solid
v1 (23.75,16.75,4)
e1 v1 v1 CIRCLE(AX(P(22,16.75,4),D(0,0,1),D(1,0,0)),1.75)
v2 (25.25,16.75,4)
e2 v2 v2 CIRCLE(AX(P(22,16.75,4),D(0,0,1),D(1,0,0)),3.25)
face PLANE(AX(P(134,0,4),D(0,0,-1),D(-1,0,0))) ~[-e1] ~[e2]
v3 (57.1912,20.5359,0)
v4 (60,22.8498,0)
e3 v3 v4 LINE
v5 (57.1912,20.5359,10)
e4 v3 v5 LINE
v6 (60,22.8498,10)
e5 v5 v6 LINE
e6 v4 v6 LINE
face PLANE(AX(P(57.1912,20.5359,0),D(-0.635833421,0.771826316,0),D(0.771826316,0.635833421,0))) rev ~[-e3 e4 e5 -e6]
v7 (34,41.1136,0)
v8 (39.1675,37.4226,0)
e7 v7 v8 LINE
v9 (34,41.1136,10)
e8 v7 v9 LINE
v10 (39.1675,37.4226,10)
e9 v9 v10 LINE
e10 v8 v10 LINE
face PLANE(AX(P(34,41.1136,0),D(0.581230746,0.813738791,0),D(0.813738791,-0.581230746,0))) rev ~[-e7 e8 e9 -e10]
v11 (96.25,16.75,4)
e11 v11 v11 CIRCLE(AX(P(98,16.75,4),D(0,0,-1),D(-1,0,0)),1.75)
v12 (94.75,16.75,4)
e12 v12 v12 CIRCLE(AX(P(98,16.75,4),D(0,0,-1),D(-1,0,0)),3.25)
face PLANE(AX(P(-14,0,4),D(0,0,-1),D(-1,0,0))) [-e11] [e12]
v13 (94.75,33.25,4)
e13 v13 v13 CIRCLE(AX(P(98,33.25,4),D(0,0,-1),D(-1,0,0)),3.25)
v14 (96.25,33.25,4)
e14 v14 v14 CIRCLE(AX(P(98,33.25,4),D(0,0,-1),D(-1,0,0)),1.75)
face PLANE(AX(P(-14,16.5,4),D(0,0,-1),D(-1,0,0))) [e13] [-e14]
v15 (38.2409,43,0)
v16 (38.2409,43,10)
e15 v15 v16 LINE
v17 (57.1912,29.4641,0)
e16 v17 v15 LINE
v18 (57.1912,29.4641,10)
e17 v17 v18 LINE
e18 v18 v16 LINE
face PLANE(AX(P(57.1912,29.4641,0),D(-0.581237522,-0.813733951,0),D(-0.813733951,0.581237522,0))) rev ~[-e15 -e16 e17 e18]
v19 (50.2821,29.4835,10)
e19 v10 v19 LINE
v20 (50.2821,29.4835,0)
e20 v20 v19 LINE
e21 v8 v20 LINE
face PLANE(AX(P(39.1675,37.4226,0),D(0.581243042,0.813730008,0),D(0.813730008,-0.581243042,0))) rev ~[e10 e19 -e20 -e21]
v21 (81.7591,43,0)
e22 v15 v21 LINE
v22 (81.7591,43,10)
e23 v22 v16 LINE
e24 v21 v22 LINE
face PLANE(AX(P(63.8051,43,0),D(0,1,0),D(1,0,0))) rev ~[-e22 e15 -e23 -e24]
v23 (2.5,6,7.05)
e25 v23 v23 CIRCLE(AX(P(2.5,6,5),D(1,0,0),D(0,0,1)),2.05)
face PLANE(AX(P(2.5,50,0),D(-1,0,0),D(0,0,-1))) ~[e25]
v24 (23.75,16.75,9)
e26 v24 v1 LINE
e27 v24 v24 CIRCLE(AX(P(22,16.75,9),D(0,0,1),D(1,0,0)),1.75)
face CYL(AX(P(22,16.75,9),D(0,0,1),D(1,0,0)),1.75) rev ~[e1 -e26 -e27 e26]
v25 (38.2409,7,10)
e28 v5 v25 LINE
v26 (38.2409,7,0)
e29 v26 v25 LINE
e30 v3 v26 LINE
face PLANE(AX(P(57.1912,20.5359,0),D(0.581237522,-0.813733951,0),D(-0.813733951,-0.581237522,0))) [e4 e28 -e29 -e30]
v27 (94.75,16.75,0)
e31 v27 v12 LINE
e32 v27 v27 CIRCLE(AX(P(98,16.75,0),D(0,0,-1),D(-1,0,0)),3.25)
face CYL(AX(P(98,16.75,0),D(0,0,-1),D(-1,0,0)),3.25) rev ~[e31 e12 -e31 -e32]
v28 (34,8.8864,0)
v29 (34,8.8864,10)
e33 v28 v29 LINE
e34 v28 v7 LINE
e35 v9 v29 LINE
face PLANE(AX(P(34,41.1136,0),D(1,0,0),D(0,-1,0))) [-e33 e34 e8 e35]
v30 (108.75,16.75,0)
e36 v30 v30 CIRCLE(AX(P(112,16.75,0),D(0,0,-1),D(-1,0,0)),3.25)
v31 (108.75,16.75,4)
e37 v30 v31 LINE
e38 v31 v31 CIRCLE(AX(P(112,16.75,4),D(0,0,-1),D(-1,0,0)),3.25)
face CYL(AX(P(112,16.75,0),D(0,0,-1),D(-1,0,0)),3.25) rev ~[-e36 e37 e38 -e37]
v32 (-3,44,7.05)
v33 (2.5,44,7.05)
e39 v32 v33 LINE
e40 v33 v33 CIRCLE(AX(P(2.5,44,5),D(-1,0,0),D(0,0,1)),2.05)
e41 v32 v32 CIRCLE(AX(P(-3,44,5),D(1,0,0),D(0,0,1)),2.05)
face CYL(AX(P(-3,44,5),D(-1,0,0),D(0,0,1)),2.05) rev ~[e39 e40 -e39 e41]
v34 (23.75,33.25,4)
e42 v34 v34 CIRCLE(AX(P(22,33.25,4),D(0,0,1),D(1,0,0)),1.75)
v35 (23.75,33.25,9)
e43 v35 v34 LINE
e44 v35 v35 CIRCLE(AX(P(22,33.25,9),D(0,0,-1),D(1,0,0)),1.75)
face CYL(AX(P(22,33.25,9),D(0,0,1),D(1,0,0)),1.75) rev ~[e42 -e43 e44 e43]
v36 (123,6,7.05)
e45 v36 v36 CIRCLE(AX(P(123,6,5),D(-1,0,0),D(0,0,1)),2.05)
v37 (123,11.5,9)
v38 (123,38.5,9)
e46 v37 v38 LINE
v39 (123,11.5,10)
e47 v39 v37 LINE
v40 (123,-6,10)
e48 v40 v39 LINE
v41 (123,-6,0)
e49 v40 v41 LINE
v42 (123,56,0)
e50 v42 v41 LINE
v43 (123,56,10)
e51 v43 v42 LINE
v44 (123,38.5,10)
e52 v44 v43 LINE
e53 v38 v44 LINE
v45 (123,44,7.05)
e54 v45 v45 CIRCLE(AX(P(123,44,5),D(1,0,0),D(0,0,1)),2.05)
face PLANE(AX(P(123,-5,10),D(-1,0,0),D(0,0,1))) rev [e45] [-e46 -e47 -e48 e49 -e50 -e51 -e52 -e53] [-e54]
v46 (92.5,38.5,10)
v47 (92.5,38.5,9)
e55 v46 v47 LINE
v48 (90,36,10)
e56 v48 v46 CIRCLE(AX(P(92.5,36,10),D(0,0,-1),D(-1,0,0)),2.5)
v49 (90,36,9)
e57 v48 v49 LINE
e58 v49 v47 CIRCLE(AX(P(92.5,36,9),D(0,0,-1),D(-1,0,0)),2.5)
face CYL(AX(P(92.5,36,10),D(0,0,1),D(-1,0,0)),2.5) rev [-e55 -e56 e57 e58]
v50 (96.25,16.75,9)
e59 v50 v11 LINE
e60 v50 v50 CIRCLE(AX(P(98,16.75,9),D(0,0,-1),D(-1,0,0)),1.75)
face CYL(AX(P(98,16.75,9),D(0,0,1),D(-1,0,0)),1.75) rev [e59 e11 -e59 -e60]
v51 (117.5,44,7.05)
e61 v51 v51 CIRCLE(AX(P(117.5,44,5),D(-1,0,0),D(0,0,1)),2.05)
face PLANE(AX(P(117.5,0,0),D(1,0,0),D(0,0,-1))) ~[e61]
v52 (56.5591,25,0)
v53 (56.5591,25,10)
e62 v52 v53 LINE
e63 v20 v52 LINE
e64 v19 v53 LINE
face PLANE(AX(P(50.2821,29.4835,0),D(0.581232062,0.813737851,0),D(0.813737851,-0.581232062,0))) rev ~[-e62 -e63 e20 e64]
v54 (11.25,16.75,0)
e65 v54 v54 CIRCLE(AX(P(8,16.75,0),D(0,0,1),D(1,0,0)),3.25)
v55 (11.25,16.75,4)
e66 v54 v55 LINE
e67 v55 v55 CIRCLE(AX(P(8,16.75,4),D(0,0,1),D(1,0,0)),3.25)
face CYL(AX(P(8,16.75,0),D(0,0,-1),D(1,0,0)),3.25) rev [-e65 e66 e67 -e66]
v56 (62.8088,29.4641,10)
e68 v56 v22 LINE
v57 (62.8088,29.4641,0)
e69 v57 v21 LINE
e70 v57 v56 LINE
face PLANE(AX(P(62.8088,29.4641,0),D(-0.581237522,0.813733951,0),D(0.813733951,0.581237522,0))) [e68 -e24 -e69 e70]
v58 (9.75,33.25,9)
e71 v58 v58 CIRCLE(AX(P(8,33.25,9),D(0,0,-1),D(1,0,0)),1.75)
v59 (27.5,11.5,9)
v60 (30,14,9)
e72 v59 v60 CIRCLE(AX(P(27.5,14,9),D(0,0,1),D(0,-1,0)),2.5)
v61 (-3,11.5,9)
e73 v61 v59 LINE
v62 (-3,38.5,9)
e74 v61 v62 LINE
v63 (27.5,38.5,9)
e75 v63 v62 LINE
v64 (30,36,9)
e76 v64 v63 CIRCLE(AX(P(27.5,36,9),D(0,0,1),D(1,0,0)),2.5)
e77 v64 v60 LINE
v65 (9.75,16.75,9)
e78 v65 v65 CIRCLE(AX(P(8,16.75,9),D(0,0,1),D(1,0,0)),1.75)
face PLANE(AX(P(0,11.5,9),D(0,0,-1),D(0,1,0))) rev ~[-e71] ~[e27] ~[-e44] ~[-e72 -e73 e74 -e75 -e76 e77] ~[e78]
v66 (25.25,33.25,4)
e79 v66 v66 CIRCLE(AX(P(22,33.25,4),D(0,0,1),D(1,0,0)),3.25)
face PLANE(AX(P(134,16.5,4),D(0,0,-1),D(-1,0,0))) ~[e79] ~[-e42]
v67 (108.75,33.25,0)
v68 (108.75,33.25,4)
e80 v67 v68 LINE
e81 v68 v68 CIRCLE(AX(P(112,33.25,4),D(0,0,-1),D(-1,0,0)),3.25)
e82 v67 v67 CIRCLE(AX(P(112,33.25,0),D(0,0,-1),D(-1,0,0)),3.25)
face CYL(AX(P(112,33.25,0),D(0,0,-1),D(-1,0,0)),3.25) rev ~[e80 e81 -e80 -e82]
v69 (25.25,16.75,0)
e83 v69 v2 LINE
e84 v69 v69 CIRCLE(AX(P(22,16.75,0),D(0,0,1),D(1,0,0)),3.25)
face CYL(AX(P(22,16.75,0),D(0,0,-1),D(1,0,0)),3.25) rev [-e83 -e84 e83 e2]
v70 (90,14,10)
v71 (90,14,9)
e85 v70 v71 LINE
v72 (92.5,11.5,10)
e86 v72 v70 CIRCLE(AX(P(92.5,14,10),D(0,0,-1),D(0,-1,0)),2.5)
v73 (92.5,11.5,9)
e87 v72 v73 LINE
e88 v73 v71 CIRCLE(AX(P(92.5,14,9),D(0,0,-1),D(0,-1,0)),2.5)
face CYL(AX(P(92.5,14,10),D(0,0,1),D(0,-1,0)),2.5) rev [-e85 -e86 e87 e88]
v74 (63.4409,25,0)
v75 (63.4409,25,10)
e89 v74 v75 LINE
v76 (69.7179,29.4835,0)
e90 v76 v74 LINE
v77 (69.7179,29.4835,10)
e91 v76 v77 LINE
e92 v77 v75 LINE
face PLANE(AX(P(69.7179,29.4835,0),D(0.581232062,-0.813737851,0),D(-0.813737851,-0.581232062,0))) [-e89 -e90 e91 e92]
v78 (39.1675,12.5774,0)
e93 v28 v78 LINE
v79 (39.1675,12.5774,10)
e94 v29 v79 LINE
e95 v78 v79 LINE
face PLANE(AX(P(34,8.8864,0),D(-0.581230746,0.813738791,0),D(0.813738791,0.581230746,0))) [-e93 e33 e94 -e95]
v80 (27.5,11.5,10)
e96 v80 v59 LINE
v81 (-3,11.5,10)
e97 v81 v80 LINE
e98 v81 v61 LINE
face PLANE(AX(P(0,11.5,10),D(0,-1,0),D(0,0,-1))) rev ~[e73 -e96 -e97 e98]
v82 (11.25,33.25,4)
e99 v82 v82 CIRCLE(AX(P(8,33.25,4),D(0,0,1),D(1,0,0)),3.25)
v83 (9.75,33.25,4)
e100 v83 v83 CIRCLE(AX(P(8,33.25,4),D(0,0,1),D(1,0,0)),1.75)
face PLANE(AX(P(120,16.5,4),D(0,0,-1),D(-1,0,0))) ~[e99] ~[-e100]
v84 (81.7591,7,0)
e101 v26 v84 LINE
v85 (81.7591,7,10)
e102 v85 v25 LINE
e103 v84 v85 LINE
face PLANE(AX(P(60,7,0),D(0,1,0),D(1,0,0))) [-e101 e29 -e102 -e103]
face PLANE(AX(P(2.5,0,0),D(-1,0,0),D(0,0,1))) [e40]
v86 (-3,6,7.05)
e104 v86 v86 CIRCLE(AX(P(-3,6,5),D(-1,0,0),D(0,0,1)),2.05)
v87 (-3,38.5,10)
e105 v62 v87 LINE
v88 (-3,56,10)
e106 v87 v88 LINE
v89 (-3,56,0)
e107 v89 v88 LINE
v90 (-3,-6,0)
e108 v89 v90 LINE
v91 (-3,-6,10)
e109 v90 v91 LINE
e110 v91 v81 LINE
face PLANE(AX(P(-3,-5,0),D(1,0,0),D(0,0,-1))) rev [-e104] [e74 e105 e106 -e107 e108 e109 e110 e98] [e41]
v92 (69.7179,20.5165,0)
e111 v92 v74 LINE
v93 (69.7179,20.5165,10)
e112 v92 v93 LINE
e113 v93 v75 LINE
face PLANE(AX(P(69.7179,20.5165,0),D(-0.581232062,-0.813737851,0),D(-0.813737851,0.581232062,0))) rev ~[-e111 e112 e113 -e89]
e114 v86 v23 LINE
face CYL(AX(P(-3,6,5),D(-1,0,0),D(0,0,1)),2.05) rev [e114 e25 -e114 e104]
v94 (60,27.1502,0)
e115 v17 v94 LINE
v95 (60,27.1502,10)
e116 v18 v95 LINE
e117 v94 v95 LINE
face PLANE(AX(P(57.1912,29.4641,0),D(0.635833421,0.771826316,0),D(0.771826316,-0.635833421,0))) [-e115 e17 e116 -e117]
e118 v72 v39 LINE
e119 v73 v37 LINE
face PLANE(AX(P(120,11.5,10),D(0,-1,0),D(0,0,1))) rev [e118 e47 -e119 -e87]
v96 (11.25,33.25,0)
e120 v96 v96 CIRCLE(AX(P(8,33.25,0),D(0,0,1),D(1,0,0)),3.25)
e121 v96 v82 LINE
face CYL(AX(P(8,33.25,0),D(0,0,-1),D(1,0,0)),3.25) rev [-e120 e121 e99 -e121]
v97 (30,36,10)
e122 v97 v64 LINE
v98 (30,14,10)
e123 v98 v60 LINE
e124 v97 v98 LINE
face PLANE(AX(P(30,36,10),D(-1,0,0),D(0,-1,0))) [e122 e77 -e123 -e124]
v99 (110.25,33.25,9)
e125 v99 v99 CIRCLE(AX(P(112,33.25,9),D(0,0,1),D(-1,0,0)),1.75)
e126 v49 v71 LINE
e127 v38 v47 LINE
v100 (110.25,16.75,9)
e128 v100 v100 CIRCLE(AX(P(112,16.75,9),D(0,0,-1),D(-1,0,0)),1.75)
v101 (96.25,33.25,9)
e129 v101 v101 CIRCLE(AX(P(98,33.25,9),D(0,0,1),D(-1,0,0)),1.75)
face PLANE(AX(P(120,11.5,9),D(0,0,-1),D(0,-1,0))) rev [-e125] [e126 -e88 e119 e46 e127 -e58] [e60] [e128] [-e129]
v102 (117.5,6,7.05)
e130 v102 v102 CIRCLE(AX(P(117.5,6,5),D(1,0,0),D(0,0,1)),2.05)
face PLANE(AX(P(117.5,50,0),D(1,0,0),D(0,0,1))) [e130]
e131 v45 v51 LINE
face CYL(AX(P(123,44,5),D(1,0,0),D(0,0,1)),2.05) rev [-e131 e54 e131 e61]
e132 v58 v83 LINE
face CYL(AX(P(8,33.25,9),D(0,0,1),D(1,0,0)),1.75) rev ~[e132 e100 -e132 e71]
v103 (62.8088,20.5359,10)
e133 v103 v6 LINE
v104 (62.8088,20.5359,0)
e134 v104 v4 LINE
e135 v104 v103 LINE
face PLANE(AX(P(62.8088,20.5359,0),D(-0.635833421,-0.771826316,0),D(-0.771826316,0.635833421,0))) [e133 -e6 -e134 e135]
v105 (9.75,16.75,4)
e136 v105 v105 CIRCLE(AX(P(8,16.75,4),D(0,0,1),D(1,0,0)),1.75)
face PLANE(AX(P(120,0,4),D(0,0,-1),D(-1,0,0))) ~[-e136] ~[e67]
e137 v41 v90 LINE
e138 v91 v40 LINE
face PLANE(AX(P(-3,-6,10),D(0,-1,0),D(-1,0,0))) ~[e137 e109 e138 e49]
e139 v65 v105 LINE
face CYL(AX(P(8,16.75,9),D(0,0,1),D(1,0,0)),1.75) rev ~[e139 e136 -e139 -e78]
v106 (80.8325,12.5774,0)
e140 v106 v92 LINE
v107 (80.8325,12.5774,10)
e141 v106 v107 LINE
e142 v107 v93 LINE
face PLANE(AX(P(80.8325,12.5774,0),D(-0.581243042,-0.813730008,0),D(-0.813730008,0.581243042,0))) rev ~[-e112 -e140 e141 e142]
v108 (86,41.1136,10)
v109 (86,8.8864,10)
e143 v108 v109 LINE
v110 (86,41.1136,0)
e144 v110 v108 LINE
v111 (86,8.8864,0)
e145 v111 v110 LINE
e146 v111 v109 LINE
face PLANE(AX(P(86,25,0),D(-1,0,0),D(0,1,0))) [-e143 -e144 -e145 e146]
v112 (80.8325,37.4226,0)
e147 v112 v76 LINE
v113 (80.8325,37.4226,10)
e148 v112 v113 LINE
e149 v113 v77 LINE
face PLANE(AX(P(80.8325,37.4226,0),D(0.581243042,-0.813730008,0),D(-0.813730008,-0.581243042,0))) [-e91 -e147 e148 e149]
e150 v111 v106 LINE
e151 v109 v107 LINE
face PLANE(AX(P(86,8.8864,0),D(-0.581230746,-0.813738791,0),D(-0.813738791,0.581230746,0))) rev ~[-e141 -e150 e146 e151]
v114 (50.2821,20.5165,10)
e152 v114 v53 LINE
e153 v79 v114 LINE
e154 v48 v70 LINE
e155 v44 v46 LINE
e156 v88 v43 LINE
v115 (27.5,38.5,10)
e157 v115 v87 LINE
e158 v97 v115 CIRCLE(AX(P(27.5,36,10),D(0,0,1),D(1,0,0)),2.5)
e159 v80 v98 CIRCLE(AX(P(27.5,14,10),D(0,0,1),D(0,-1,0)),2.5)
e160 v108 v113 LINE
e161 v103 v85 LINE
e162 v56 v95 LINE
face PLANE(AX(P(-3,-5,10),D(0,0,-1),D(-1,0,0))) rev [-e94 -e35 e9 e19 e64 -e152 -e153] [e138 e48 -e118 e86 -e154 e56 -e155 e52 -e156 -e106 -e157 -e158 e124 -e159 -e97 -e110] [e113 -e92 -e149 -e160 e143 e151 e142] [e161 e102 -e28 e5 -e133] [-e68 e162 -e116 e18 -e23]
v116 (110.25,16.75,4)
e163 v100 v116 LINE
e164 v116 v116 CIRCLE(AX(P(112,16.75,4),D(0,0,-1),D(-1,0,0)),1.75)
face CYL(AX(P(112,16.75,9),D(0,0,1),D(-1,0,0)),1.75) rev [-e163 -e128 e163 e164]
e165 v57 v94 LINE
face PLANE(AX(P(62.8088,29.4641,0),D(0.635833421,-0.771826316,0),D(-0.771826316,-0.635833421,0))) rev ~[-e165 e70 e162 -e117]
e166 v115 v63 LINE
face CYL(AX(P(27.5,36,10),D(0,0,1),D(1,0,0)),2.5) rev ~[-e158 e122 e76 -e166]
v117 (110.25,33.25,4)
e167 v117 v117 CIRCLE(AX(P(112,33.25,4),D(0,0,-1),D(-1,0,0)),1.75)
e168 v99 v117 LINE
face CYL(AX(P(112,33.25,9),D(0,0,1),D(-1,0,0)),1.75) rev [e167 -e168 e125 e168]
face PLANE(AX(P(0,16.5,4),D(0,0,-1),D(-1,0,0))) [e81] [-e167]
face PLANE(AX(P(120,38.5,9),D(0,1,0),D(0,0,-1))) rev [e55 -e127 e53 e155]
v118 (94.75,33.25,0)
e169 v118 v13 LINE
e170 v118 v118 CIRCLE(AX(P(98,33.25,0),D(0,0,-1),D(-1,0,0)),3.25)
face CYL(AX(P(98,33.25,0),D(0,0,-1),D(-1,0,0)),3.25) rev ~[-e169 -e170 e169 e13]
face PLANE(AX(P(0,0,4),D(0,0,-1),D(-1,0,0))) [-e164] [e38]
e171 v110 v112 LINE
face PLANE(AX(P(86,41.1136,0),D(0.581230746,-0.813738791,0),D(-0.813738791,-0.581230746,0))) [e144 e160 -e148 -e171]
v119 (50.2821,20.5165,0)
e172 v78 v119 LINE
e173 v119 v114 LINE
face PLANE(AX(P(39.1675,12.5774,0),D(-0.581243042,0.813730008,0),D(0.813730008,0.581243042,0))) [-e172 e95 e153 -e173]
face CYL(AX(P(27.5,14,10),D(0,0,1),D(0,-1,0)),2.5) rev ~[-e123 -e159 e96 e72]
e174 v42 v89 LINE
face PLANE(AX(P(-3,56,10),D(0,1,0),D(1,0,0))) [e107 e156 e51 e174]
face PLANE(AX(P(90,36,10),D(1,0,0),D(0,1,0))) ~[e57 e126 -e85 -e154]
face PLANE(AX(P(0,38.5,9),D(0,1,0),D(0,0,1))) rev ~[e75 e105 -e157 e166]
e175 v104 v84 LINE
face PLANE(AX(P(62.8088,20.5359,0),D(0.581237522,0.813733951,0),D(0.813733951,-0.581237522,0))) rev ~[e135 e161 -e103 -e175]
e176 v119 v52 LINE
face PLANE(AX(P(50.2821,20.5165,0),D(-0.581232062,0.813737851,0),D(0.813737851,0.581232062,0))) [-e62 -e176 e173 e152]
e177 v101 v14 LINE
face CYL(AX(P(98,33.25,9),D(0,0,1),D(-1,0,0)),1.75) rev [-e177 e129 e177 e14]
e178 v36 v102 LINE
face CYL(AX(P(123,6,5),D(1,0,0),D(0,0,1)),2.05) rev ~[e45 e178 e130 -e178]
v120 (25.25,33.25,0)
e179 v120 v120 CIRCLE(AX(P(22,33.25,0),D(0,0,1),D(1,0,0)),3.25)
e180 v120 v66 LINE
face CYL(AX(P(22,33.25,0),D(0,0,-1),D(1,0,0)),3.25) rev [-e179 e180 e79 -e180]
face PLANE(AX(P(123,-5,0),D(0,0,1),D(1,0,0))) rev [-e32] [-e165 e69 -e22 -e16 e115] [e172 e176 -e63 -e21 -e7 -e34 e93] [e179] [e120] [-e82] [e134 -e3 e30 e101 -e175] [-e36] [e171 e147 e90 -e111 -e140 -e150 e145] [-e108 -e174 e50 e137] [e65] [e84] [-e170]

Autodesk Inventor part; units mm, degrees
ref_plane "YZ Plane" through (0, 0, 0) normal (1, 0, 0) x (0, 1, 0)
ref_plane "XZ Plane" through (0, 0, 0) normal (0, 1, 0) x (-1, 0, 0)
ref_plane "XY Plane" through (0, 0, 0) normal (0, 0, 1) x (1, 0, 0)
sketch "Sketch1" plane through (0, 0, 0) normal (0, 0, 1) x (1, 0, 0)
  line L0 (0, 0) -> (120, 0)
  line L1 (120, 0) -> (120, 50)
  line L2 (120, 50) -> (0, 50)
  line L3 (0, 50) -> (0, 0)
  dimension "d0" = 120
  dimension "d1" = 50
extrude "Extrusion1" add sketch "Sketch1" along normal blind 10
sketch "Sketch2" plane through (0, 0, 10) normal (0, 0, 1) x (1, 0, 0)
  line L0 (0, 50) -> (0, 0) projected
  line L1 (0, 11.5) -> (0, 38.5)
  line L2 (0, 38.5) -> (27.5, 38.5)
  line L3 (30, 36) -> (30, 14)
  line L4 (27.5, 11.5) -> (0, 11.5)
  line L5 (0, 11.5) -> (0, 38.5)
  arc A0 (30, 36) -> (27.5, 38.5) centre (27.5, 36) ccw
  arc A1 (27.5, 11.5) -> (30, 14) centre (27.5, 14) ccw
  point P0 (0, 25)
  point P1 (30, 11.5)
  point P2 (30, 38.5)
  dimension "d4" = 27
  dimension "d5" = 30
  dimension "d8" = 2.5
  dimension "d9" = 2.5
extrude "Extrusion2" cut sketch "Sketch2" against normal blind 1
sketch "Sketch3" plane through (0, 0, 9) normal (0, 0, 1) x (1, 0, 0)
  arc A0 (30, 36) -> (27.5, 38.5) centre (27.5, 36) ccw projected
  line L0 (0, 38.5) -> (27.5, 38.5) projected
  line L1 (0, 38.5) -> (27.5, 38.5) projected
  line L2 (0, 11.5) -> (0, 38.5) projected
  line L3 (27.5, 11.5) -> (0, 11.5) projected
  arc A1 (27.5, 11.5) -> (30, 14) centre (27.5, 14) ccw projected
  line L4 (30, 36) -> (30, 14) projected
  arc A2 (30, 36) -> (27.5, 38.5) centre (27.5, 36) ccw projected
  line L5 (30, 36) -> (30, 14) projected
  line L6 (30, 38.5) -> (22, 38.5)
  line L7 (22, 38.5) -> (22, 33.25)
  line L8 (22, 33.25) -> (30, 33.25)
  line L9 (30, 33.25) -> (30, 38.5)
  circle A3 centre (22, 33.25) radius 1.75
  line L10 (30, 38.5) -> (8, 38.5)
  line L11 (8, 38.5) -> (8, 33.25)
  line L12 (8, 33.25) -> (30, 33.25)
  line L13 (30, 33.25) -> (30, 38.5)
  circle A4 centre (8, 33.25) radius 1.75
  line L14 (30, 25) -> (16.651, 25)
  circle A5 centre (22, 16.75) radius 1.75
  circle A6 centre (8, 16.75) radius 1.75
  point P0 (0, 0)
  dimension "d10" = 8
  dimension "d11" = 5.25
  dimension "d12" = 3.5
  dimension "d13" = 22
  dimension "d14" = 3.5
extrude "Extrusion3" cut sketch "Sketch3" against normal up to surface (9 mm away) contours A3 L12 L8 | L8 L7 A3 | L7 L12 A3 | A4 L12 L11 | L11 L12 A4 | A5 | A6
ref_plane "Work Plane1" through (60, 0, 0) normal (-1, 0, 0) x (0, 0, 1)
mirror "Mirror1" about plane through (60, 0, 0) normal (-1, 0, 0) of "Extrusion2", "Extrusion3"
ref_plane "Work Plane2" through (0, 25, 0) normal (0, -1, 0) x (1, 0, 0)
sketch "Sketch6" plane through (0, 0, 0) normal (-1, 0, 0) x (0, 0, 1)
  line L0 (9, 38.5) -> (10, 38.5) projected
  line L1 (9, 11.5) -> (9, 38.5) projected
  line L2 (10, 11.5) -> (9, 11.5) projected
  line L3 (0, 50) -> (0, 0) projected
  line L4 (0, 0) -> (10, 0) projected
  line L5 (10, 11.5) -> (10, 0) projected
  line L6 (0, 50) -> (10, 50) projected
  line L7 (10, 50) -> (10, 38.5) projected
extrude "Extrusion6" add sketch "Sketch6" along normal blind 3
mirror "Mirror4" about plane through (60, 0, 0) normal (-1, 0, 0) of "Extrusion6"
sketch "Sketch7" plane through (0, 0, 0) normal (0, 0, -1) x (-1, 0, 0)
  circle A0 centre (-112, 16.75) radius 1.75 projected
  circle A1 centre (-112, 16.75) radius 3.25
  point P0 (0, 0)
  dimension "d27" = 6.5
extrude "Extrusion7" cut sketch "Sketch7" against normal blind 4
pattern_linear "Rectangular Pattern1" count 2 spacing -14 along (1, 0, 0) count 2 spacing 16.5 along (0, 1, 0) of "Extrusion7"
mirror "Mirror5" about plane through (60, 0, 0) normal (-1, 0, 0) of "Extrusion7", "Rectangular Pattern1"
sketch "Sketch9" plane through (-3, 0, 0) normal (-1, 0, 0) x (0, 0, 1)
  line L0 (10, 50) -> (5, 50)
  line L1 (5, 50) -> (5, 44)
  line L2 (5, 44) -> (10, 44)
  line L3 (10, 44) -> (10, 50)
  circle A0 centre (5, 44) radius 2.05
  point P0 (0, 0)
  dimension "d36" = 5
  dimension "d37" = 6
  dimension "d38" = 4.1
extrude "Extrusion8" cut sketch "Sketch9" against normal blind 5.5 contours A0 L2 L1 | L1 L2 A0
mirror "Mirror6" about plane through (0, 25, 0) normal (0, -1, 0) of "Extrusion8"
sketch "Sketch12" plane through (0, 0, 0) normal (0, 0, -1) x (-1, 0, 0)
  line L0 (-123, 0) -> (3, 0) projected
  line L1 (-60, 0) -> (-60, 50)
  line L2 (3, 50) -> (-123, 50) projected
  line L3 (-88, 5) -> (-88, 45)
  line L4 (-88, 45) -> (-32, 45)
  line L5 (-32, 45) -> (-32, 5)
  line L6 (-32, 5) -> (-88, 5)
  line L7 (-88, 5) -> (-32, 45) construction
  line L8 (-88, 45) -> (-32, 5) construction
  line L9 (-60, 45) -> (-60, 43)
  line L10 (-63.9713, 27.8366) -> (-62.8088, 29.4641)
  line L11 (-62.8088, 29.4641) -> (-85.7421, 45.845)
  line L12 (-63.8051, 43) -> (-81.7591, 43)
  line L13 (-60, 43) -> (-60, 27.1502)
  line L14 (-62.8088, 29.4641) -> (-60, 27.1502)
  line L15 (-88, 25) -> (-86, 25)
  line L16 (-86, 25) -> (-86, 27)
  line L17 (-79.67, 39.05) -> (-80.8325, 37.4226)
  line L18 (-80.8325, 37.4226) -> (-69.7179, 29.4835)
  line L19 (-86, 41.1136) -> (-86, 27)
  line L20 (-86, 41.1136) -> (-80.8325, 37.4226)
  line L21 (-69.7179, 29.4835) -> (-63.4409, 25)
  line L22 (-63.4409, 25) -> (-86, 25)
  line L23 (-63.8051, 43) -> (-60, 43)
  line L24 (-57.1912, 29.4641) -> (-34.2579, 45.845)
  line L25 (-56.1949, 43) -> (-38.2409, 43)
  line L26 (-57.1912, 29.4641) -> (-60, 27.1502)
  line L27 (-34, 25) -> (-34, 27)
  line L28 (-39.1675, 37.4226) -> (-50.2821, 29.4835)
  line L29 (-34, 41.1136) -> (-34, 27)
  line L30 (-34, 41.1136) -> (-39.1675, 37.4226)
  line L31 (-50.2821, 29.4835) -> (-56.5591, 25)
  line L32 (-56.5591, 25) -> (-34, 25)
  line L33 (-56.1949, 43) -> (-60, 43)
  line L34 (-88, 5) -> (-32, 45) construction
  line L35 (-62.8088, 20.5359) -> (-85.7421, 4.155)
  line L36 (-63.8051, 7) -> (-81.7591, 7)
  line L37 (-62.8088, 20.5359) -> (-60, 22.8498)
  line L38 (-86, 25) -> (-86, 23)
  line L39 (-80.8325, 12.5774) -> (-69.7179, 20.5165)
  line L40 (-86, 8.8864) -> (-86, 23)
  line L41 (-86, 8.8864) -> (-80.8325, 12.5774)
  line L42 (-69.7179, 20.5165) -> (-63.4409, 25)
  line L43 (-34, 25) -> (-34, 23)
  line L44 (-34, 8.8864) -> (-34, 23)
  line L45 (-34, 8.8864) -> (-39.1675, 12.5774)
  line L46 (-39.1675, 12.5774) -> (-50.2821, 20.5165)
  line L47 (-50.2821, 20.5165) -> (-56.5591, 25)
  line L48 (-57.1912, 20.5359) -> (-34.2579, 4.155)
  line L49 (-56.1949, 7) -> (-38.2409, 7)
  line L50 (-56.1949, 7) -> (-60, 7)
  line L51 (-57.1912, 20.5359) -> (-60, 22.8498)
  line L52 (-60, 7) -> (-63.8051, 7)
  point P0 (0, 0)
  point P1 (-60, 25)
  dimension "d41" = 40
  dimension "d42" = 56
  dimension "d43" = 2
  dimension "d45" = 2
  dimension "d46" = 2
  dimension "d47" = 2
  dimension "d48" = 2
extrude "Extrusion9" cut sketch "Sketch12" against normal up to surface (10 mm away) contours L52 L36 L35 L37 L1 | L1 L51 L48 L49 L50 | L16 L19 L20 L18 L21 L22 | L22 L42 L39 L41 L40 L38 | L14 L11 L12 L23 L1 | L1 L33 L25 L24 L26 | L32 L31 L28 L30 L29 L27 | L43 L44 L45 L46 L47 L32
sketch "Sketch13" plane through (-3, 50, 10) normal (0, 1, 0) x (1, 0, 0)
  line L0 (126, 0) -> (126, 10) projected
  line L1 (0, 10) -> (126, 10) projected
  line L2 (0, 0) -> (126, 0) projected
  line L3 (0, 0) -> (0, 10) projected
  point P0 (3, 10)
extrude "Extrusion10" add sketch "Sketch13" along normal blind 5
mirror "Mirror7" about plane through (0, 25, 0) normal (0, -1, 0) of "Extrusion10"
mirror "Mirror8" about plane through (60, 0, 0) normal (-1, 0, 0) of "Extrusion8", "Mirror6"
sketch "Sketch14" plane through (-3, 55, 10) normal (0, 1, 0) x (1, 0, 0)
  line L0 (0, 0) -> (126, 0) projected
  line L1 (0, 0) -> (126, 0)
  line L2 (126, 0) -> (126, 10)
  line L3 (126, 10) -> (0, 10)
  line L4 (0, 10) -> (0, 0)
  point P0 (3, 10)
extrude "Extrusion11" add sketch "Sketch14" along normal blind 1
mirror "Mirror9" about plane through (0, 25, 0) normal (0, -1, 0) of "Extrusion11"
